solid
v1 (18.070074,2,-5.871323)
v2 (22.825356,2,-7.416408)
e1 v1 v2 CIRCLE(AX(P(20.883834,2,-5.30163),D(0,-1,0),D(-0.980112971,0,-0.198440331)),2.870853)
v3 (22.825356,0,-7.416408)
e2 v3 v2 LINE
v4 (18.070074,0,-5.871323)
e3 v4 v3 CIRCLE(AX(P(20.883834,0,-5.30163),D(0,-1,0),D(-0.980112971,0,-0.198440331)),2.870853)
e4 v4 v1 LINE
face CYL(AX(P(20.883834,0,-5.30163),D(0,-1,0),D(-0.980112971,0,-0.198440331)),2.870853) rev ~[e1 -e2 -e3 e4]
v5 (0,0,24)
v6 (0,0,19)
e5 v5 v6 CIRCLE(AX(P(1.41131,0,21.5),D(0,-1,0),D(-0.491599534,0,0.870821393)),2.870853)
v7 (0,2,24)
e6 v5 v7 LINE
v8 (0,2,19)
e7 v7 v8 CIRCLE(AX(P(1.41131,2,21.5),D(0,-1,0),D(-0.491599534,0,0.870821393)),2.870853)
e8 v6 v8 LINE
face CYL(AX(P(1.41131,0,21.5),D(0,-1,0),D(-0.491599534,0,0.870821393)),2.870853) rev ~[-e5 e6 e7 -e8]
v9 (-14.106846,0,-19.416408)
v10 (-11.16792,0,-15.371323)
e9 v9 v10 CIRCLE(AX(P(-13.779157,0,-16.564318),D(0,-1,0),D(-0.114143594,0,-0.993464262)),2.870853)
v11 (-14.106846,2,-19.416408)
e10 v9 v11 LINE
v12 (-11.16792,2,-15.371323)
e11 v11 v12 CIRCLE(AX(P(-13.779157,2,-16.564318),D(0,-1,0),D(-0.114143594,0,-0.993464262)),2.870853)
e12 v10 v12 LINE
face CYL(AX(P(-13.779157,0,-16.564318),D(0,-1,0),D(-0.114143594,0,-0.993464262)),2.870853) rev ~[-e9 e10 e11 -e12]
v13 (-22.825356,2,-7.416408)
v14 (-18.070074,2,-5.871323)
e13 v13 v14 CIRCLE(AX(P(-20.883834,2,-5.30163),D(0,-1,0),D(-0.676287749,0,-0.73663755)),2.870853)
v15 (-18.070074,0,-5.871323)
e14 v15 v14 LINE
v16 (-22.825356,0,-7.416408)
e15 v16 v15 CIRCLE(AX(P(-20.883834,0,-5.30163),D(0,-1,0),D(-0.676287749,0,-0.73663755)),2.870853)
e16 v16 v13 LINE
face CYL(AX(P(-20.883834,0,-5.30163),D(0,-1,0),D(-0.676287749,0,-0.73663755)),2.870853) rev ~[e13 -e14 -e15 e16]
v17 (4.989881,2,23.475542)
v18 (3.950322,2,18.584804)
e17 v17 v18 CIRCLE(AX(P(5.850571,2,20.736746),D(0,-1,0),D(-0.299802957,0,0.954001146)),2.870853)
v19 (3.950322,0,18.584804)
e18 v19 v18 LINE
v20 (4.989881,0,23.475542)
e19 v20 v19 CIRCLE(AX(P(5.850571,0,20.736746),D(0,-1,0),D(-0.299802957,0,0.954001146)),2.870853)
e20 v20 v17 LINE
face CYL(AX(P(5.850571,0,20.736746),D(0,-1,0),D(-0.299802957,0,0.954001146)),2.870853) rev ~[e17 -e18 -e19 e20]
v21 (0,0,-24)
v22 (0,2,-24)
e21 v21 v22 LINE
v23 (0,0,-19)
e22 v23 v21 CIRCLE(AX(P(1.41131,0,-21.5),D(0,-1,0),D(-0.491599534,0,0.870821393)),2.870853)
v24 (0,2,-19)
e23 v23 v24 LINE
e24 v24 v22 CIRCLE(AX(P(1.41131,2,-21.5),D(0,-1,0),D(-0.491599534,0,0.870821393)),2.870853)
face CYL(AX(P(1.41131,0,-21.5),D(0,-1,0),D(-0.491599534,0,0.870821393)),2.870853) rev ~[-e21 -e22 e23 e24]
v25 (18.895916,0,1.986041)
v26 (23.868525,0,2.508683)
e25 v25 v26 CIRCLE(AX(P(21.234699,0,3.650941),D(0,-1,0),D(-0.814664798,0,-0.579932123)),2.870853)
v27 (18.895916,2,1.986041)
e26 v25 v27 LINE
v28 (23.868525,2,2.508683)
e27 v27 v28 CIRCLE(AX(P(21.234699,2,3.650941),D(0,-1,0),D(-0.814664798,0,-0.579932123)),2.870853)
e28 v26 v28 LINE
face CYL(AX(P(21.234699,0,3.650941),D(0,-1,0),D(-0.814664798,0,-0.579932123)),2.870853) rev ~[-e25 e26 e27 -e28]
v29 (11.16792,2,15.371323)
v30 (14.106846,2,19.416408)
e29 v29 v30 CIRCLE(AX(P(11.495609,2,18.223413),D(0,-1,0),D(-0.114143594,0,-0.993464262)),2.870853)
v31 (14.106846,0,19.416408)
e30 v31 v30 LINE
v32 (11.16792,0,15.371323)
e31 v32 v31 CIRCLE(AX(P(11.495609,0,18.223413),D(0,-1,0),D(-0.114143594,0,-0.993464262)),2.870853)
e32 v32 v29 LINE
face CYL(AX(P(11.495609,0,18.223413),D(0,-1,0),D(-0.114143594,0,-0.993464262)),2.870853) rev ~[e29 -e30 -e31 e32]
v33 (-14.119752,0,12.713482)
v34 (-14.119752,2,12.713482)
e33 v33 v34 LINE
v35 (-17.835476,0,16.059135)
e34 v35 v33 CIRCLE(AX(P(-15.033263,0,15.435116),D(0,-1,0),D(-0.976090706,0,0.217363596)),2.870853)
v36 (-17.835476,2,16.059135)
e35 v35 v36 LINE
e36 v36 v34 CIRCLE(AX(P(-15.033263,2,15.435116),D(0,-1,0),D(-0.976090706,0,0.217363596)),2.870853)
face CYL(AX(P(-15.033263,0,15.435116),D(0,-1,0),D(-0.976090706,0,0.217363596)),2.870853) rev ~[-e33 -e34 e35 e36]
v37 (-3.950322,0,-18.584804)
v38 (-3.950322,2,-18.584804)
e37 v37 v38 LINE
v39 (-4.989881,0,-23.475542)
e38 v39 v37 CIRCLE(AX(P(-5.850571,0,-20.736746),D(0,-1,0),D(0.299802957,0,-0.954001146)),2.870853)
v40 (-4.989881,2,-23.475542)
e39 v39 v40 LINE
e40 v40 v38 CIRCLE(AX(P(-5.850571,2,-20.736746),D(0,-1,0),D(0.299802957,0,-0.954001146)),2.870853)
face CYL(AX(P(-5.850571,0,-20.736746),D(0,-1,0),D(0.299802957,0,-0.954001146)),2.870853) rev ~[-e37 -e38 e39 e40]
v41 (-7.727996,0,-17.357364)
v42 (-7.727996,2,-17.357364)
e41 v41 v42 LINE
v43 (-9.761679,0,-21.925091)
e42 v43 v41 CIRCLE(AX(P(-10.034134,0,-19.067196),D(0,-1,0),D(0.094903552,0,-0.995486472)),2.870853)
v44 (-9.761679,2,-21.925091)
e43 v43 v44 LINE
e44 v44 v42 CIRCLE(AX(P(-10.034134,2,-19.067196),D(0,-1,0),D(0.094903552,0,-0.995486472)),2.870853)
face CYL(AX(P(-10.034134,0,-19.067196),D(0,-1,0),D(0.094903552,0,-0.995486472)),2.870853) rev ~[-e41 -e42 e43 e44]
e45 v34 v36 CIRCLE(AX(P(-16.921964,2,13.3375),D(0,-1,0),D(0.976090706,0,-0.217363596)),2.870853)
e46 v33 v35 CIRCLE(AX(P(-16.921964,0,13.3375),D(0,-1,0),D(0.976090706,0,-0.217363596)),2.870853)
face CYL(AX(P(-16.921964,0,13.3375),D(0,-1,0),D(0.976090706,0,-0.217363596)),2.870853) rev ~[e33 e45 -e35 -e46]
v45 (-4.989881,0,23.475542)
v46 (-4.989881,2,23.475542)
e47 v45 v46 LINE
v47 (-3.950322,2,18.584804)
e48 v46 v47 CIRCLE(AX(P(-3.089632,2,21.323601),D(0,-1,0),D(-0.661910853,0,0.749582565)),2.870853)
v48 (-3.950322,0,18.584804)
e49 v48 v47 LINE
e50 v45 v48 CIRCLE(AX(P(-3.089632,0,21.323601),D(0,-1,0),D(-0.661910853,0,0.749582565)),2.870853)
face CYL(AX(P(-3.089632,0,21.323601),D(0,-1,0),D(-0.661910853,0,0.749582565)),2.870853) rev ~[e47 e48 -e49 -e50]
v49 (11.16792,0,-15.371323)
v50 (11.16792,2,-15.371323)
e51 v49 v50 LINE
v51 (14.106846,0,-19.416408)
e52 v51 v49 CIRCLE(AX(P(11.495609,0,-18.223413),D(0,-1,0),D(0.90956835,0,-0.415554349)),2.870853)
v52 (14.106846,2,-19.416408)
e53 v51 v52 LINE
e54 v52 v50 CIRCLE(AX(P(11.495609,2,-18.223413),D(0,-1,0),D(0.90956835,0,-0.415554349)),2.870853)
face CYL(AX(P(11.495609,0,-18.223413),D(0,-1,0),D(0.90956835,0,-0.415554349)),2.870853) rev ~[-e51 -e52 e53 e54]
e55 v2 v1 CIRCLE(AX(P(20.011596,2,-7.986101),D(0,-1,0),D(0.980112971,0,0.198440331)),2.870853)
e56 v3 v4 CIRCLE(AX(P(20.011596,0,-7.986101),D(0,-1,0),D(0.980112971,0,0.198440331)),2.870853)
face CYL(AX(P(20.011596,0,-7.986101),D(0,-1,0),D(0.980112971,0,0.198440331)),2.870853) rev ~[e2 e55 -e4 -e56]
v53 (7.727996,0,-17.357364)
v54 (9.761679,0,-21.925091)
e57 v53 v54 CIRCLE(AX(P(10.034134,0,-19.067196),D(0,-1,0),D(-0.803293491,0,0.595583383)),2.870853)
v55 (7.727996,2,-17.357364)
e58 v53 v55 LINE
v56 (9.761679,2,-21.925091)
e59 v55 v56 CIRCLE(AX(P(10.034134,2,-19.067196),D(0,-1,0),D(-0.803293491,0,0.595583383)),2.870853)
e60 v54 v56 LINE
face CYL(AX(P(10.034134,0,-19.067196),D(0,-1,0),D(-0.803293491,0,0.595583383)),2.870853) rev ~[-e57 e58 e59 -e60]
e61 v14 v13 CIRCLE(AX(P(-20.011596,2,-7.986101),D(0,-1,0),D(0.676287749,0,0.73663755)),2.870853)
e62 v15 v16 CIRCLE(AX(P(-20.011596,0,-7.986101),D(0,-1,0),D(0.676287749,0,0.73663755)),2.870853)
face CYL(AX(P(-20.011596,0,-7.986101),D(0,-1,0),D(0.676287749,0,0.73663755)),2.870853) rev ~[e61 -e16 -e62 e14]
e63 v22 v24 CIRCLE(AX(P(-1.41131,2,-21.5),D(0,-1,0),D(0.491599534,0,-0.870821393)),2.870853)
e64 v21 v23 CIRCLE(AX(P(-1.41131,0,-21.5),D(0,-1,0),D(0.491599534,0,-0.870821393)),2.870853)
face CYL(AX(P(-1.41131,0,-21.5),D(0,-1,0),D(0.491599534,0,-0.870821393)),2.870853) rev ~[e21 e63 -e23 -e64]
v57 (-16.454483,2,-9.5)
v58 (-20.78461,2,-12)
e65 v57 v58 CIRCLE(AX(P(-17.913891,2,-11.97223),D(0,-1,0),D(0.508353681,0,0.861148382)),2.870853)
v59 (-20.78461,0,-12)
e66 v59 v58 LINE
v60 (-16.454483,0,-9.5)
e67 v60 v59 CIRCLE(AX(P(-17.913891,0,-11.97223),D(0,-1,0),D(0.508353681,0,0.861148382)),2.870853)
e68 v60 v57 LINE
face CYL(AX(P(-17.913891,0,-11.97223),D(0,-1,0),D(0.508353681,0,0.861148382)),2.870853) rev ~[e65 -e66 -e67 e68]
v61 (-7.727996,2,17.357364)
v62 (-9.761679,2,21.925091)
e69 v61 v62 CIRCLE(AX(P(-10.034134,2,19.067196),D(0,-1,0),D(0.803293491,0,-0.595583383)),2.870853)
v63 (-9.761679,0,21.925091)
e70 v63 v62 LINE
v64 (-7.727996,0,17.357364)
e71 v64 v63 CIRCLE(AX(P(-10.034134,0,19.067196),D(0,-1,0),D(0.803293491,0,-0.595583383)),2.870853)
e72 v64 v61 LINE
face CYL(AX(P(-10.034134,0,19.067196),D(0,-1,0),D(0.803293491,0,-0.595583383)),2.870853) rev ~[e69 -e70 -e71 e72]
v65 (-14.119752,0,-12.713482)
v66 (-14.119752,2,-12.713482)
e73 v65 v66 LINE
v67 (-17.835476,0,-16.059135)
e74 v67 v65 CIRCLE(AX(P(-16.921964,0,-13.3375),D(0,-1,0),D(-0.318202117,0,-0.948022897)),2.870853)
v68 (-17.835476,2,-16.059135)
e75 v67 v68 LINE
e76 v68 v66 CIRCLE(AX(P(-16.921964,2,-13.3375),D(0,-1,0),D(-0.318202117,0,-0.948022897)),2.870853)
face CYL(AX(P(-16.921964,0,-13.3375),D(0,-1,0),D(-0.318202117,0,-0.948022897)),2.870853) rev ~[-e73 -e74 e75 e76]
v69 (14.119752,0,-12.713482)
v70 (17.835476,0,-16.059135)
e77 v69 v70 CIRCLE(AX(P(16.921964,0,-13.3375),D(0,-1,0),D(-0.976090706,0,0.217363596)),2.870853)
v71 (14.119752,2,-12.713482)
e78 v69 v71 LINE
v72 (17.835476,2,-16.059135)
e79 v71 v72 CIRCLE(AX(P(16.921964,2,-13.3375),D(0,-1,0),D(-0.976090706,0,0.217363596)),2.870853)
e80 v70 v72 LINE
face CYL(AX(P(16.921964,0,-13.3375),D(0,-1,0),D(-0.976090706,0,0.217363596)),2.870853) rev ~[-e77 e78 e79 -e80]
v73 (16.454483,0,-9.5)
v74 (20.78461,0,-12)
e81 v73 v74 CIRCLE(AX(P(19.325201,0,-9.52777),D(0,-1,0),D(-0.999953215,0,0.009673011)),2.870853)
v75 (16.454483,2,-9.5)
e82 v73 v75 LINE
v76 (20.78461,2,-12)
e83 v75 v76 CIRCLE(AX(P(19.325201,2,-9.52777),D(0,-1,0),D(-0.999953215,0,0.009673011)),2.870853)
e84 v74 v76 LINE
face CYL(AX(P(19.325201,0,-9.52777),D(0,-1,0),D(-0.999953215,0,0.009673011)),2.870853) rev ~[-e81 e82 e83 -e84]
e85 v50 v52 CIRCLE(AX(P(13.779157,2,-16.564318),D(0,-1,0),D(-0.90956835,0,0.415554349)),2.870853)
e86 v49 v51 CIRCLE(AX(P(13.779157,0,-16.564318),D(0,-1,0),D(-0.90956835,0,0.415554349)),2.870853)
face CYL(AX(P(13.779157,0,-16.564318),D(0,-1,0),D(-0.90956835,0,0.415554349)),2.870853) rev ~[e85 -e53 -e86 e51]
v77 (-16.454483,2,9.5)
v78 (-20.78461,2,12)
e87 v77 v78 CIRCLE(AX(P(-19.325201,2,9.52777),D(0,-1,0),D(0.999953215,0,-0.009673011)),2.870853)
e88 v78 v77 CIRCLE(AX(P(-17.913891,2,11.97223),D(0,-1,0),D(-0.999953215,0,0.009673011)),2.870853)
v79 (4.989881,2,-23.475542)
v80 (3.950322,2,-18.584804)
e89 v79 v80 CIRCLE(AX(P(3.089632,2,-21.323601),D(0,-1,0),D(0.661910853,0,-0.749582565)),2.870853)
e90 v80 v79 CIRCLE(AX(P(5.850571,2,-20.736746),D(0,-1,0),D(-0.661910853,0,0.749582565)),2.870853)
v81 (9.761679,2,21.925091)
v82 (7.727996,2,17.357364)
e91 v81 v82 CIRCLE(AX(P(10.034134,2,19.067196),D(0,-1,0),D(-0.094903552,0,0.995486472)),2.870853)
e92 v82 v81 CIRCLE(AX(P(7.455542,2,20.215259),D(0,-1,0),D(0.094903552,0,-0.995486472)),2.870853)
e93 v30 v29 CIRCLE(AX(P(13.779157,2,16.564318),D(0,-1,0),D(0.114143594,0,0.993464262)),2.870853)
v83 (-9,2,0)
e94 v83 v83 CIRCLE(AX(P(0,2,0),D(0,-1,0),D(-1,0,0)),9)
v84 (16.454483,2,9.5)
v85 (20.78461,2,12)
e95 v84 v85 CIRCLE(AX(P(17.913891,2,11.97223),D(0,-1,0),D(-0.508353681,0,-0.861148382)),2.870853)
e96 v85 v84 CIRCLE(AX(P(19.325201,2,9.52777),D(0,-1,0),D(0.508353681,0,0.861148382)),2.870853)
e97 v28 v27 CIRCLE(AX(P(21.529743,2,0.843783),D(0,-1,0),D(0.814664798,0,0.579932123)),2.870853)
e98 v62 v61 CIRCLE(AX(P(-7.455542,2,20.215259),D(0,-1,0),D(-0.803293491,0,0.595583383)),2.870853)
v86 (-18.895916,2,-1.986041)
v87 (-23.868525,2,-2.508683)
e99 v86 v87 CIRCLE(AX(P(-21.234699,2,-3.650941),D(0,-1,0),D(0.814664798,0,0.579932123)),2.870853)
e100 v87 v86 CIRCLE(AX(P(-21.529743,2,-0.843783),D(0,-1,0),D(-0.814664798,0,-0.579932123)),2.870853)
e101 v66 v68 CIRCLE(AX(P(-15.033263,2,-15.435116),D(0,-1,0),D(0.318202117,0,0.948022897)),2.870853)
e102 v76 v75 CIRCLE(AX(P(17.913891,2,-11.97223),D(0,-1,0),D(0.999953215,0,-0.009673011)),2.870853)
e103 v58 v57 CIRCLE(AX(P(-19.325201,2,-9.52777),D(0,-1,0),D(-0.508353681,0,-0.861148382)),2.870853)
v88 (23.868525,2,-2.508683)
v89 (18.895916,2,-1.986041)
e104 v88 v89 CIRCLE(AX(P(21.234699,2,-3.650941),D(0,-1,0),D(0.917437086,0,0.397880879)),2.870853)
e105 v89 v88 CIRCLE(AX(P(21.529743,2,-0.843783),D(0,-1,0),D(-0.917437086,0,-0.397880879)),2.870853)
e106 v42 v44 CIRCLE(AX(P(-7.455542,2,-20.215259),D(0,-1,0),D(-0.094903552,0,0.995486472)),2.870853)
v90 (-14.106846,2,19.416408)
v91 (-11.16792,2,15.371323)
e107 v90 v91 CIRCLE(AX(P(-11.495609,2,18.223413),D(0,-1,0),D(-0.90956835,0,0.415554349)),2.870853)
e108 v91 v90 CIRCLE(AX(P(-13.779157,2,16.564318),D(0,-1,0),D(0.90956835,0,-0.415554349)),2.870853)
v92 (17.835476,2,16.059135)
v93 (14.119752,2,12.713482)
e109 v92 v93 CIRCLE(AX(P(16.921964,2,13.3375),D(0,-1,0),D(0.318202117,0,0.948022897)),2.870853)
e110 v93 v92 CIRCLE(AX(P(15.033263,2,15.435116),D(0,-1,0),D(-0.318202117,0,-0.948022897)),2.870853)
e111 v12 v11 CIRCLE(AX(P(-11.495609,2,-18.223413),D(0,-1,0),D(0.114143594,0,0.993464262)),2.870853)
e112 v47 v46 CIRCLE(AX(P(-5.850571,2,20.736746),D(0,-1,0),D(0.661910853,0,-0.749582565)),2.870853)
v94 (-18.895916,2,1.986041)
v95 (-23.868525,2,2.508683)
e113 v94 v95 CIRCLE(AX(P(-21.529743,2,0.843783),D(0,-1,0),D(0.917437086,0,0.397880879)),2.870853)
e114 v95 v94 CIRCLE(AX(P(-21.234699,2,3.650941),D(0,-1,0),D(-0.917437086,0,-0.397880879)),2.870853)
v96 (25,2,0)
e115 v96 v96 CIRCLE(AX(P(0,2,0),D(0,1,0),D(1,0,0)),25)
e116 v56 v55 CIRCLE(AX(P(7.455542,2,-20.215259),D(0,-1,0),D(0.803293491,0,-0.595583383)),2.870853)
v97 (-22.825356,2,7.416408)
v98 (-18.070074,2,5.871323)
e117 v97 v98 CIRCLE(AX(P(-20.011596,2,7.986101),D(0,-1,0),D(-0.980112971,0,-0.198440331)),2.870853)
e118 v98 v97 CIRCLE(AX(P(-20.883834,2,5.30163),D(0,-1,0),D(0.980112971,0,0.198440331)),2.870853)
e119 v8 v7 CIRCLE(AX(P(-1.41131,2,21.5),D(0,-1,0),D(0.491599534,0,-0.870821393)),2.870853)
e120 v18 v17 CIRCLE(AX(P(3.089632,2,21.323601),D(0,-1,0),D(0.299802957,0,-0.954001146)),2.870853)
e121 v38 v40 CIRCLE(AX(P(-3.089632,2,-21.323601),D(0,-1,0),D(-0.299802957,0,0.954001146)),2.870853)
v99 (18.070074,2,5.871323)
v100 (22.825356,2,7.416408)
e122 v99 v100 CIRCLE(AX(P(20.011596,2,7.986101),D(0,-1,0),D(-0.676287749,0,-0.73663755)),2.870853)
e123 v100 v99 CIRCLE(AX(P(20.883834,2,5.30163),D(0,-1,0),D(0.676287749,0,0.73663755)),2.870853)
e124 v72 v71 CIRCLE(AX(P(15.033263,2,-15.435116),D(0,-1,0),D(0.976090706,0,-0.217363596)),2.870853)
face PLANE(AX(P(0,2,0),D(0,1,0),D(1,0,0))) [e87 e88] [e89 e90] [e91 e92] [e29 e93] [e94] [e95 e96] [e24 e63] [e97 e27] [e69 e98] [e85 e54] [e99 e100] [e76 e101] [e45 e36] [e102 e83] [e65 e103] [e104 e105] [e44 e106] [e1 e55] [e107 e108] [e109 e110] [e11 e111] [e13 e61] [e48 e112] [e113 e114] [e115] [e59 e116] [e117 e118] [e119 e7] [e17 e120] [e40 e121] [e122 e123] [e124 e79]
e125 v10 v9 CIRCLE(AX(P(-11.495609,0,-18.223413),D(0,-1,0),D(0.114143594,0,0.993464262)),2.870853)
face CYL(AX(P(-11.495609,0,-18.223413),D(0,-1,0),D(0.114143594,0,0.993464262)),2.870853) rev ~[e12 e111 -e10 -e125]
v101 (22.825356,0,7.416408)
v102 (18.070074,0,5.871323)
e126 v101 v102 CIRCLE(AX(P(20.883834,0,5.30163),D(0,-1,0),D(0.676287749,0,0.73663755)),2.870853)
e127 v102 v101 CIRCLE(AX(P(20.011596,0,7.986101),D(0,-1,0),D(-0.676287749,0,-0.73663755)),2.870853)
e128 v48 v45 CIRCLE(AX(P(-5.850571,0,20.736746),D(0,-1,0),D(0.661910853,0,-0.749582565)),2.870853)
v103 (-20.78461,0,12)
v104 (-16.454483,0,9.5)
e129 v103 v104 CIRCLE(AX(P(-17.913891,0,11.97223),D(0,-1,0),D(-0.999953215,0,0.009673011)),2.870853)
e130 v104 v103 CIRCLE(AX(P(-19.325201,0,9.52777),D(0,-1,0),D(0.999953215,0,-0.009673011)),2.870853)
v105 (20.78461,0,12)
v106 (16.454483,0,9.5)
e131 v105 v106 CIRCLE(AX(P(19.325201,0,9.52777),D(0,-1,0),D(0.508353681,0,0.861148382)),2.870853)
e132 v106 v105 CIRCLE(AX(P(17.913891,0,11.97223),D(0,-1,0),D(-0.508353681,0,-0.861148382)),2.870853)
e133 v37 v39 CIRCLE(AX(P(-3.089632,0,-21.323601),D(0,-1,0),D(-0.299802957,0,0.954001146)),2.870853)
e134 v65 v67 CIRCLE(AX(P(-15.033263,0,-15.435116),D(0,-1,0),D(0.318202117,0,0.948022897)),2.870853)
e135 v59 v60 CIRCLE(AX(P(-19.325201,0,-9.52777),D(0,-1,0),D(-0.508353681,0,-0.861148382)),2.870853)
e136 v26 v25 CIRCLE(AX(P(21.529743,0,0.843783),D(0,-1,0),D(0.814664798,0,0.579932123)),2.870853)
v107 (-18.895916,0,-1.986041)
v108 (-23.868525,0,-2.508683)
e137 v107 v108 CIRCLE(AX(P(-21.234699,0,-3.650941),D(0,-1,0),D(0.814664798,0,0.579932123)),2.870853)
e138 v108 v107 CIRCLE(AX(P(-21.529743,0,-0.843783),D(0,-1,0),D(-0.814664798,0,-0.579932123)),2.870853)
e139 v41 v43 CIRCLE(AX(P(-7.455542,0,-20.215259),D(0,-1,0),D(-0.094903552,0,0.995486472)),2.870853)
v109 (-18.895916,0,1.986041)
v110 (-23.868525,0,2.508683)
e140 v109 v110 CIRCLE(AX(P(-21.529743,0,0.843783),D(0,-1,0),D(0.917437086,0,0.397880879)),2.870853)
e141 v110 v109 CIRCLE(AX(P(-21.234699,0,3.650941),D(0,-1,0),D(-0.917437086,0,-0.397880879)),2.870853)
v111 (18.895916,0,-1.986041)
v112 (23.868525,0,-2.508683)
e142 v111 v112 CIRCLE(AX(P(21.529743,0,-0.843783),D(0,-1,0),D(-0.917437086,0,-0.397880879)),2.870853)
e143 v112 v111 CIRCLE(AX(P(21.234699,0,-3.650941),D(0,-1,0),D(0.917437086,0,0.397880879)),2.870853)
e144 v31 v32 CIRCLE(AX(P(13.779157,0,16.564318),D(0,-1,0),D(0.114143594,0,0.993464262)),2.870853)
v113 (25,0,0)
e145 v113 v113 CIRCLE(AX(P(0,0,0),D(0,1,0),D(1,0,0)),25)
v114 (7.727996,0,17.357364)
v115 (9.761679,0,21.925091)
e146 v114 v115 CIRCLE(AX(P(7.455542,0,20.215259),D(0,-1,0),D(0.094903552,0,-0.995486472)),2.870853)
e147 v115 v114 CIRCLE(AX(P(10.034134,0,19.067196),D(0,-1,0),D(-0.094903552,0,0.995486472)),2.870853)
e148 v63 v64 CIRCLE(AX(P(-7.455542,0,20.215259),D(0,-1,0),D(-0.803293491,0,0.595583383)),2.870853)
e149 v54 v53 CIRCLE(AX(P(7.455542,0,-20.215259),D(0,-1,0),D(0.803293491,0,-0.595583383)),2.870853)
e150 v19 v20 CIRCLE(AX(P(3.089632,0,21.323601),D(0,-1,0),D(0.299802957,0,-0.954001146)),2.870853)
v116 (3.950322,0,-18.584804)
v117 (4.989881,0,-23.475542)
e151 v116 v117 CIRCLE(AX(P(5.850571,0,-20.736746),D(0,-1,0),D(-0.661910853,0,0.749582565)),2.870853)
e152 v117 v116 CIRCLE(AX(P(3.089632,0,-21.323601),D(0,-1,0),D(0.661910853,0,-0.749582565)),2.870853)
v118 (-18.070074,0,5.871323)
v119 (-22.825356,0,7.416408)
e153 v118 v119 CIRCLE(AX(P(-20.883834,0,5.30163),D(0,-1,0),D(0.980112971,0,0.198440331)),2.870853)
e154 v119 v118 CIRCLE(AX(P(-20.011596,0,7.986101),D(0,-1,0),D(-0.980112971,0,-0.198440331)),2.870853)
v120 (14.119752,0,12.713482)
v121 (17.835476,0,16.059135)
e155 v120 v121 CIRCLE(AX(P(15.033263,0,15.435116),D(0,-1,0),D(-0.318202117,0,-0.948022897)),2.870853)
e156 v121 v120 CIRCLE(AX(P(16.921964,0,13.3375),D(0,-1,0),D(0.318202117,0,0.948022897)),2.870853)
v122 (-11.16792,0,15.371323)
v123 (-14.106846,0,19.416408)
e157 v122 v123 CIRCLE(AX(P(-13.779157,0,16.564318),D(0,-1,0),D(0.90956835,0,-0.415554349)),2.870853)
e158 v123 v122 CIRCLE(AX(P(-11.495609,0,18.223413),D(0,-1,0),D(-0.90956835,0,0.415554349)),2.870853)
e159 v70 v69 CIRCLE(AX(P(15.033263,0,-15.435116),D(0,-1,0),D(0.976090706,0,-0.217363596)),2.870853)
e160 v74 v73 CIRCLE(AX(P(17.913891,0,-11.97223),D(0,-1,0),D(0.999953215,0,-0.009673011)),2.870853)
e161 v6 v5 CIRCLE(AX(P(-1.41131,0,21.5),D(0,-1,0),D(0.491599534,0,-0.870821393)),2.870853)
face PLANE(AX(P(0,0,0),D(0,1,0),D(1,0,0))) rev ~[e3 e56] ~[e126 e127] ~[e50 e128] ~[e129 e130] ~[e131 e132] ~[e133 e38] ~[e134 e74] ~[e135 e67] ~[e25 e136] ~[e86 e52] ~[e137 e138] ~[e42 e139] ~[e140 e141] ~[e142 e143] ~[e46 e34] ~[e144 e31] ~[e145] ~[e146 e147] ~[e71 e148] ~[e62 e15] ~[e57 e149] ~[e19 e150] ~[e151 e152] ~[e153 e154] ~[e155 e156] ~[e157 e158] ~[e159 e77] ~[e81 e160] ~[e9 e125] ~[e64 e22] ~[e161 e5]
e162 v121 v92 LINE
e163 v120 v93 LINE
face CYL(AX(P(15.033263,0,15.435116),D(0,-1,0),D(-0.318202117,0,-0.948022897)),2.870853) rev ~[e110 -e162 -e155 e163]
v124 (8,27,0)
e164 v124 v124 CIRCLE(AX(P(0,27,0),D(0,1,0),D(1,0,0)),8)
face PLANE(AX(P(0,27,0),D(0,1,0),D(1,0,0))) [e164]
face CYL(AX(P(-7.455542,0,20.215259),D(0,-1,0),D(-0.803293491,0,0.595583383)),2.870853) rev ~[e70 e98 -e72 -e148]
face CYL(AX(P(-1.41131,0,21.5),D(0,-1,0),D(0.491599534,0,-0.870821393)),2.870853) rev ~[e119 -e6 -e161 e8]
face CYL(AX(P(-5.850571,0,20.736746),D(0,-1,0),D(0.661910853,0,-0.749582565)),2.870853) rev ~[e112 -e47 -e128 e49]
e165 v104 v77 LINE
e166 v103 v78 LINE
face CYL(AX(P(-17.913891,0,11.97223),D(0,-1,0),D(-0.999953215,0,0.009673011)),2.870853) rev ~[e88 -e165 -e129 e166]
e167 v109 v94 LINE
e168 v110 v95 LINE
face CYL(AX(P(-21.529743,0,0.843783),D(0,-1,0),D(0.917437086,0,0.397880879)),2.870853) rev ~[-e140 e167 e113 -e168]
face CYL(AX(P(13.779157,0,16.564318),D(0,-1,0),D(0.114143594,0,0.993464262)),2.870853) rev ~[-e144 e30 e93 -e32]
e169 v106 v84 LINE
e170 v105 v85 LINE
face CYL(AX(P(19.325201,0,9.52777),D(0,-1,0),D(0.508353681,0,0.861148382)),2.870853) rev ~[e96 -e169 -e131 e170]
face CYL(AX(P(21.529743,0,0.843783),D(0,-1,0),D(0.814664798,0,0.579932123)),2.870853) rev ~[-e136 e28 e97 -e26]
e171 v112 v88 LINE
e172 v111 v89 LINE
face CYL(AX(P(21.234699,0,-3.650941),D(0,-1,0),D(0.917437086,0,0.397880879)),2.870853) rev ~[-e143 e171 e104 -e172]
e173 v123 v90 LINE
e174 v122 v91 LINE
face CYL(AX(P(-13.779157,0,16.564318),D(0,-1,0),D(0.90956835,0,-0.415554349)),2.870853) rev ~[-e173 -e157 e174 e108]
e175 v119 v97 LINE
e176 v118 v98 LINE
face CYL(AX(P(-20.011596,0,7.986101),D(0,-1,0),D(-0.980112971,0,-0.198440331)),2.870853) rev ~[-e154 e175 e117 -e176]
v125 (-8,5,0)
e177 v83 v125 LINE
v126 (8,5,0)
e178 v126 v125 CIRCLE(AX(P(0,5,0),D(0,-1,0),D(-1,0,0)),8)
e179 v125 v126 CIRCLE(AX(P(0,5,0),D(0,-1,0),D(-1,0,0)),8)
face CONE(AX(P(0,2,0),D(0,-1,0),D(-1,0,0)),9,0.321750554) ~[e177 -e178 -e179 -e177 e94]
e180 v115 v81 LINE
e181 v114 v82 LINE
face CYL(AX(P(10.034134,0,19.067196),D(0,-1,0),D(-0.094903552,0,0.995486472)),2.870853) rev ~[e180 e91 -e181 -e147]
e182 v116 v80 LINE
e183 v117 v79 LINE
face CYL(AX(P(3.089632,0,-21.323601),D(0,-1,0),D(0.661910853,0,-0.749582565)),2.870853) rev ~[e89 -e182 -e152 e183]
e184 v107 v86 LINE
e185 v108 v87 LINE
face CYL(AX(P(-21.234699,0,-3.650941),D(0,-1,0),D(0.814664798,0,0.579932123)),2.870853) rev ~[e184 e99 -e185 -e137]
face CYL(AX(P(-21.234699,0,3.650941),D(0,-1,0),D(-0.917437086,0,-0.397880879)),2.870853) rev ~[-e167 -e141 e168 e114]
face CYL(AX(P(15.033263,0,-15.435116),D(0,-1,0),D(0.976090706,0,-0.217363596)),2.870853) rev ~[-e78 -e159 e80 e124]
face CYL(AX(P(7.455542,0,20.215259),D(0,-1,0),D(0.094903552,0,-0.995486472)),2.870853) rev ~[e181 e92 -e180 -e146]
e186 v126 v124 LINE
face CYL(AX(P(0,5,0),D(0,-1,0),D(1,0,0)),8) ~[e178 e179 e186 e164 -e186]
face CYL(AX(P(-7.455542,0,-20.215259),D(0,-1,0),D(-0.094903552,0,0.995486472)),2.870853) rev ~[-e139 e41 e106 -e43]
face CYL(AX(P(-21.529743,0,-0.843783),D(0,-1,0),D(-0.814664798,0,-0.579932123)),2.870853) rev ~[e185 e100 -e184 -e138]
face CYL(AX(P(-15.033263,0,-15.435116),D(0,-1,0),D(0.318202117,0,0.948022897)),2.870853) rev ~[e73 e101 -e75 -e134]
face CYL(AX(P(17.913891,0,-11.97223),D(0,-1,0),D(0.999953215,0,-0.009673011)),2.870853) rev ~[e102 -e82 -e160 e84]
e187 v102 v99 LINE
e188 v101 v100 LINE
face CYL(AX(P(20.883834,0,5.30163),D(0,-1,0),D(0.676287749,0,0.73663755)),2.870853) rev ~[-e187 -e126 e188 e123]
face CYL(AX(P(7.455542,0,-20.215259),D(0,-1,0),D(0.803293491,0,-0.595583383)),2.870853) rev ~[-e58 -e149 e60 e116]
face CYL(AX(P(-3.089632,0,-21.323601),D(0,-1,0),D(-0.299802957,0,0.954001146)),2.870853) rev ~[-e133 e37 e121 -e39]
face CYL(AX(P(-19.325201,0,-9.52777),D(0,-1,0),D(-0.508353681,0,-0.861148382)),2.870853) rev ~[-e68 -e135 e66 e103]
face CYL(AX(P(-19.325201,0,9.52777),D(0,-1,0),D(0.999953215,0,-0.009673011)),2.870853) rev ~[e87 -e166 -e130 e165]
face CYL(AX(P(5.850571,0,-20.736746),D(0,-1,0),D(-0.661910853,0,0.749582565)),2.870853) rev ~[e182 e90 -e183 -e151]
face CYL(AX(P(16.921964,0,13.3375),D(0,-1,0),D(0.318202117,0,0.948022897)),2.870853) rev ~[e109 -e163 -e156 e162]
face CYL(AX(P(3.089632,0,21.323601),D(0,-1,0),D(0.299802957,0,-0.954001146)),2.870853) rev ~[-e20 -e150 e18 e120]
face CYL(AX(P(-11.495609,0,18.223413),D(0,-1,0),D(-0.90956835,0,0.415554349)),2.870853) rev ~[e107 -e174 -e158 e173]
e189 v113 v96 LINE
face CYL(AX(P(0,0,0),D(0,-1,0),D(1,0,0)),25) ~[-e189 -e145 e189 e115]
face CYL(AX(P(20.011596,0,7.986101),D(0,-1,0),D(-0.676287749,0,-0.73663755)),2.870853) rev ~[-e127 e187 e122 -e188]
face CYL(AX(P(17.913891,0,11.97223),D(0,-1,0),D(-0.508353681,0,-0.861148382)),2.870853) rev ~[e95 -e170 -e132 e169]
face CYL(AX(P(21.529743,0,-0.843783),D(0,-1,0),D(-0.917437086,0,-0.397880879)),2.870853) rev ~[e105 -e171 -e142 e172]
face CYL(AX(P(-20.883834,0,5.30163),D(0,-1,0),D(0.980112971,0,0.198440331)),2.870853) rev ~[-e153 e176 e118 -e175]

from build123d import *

# Parameters (mm, degrees)
SKETCH2_R           = 25
BOSS_EXTRUDE1_DEPTH = 2
CUT_EXTRUDE1_DEPTH  = 3
CIRPATTERN1_COUNT   = 30
SKETCH5_R           = 8
BOSS_EXTRUDE2_DEPTH = 22


with BuildPart() as part:
    # Sketch2 → Boss-Extrude1 (new body)
    with BuildSketch(Plane(origin=(0, 0, 0), x_dir=(1, 0, 0), z_dir=(0, 1, 0))):
        Circle(SKETCH2_R)
    extrude(amount=BOSS_EXTRUDE1_DEPTH)

    # Sketch1 → Cut-Extrude1 (cut, through all)
    with BuildSketch(Plane(origin=(0, 0, 0), x_dir=(1, 0, 0), z_dir=(0, 1, 0))):
        with BuildLine():
            ThreePointArc((0, 19), (-1.459542881, 21.5), (0, 24))
            ThreePointArc((0, 24), (1.459542881, 21.5), (0, 19))
        make_face()
    cut_extrude1 = extrude(amount=CUT_EXTRUDE1_DEPTH, mode=Mode.SUBTRACT)

    # CirPattern1: Cut-Extrude1 ×30 about axis
    cirpattern1_axis = Axis((0, 0, 0), (0, 1, 0))
    for i in range(1, CIRPATTERN1_COUNT):
        add(cut_extrude1.rotate(cirpattern1_axis, i * 360 / CIRPATTERN1_COUNT), mode=Mode.SUBTRACT)

    # Sketch4 → Revolve1 (revolve)
    with BuildSketch(Plane.XY):
        Polygon((-8, 5), (0, 5), (0, 2), (-9, 2), align=None)
    revolve(axis=Axis((0, 5, 0), (0, -1, 0)))

    # Sketch5 → Boss-Extrude2 (add)
    with BuildSketch(Plane(origin=(0, 5, 0), x_dir=(1, 0, 0), z_dir=(0, 1, 0))):
        Circle(SKETCH5_R)
    extrude(amount=BOSS_EXTRUDE2_DEPTH)


solid = part.part
